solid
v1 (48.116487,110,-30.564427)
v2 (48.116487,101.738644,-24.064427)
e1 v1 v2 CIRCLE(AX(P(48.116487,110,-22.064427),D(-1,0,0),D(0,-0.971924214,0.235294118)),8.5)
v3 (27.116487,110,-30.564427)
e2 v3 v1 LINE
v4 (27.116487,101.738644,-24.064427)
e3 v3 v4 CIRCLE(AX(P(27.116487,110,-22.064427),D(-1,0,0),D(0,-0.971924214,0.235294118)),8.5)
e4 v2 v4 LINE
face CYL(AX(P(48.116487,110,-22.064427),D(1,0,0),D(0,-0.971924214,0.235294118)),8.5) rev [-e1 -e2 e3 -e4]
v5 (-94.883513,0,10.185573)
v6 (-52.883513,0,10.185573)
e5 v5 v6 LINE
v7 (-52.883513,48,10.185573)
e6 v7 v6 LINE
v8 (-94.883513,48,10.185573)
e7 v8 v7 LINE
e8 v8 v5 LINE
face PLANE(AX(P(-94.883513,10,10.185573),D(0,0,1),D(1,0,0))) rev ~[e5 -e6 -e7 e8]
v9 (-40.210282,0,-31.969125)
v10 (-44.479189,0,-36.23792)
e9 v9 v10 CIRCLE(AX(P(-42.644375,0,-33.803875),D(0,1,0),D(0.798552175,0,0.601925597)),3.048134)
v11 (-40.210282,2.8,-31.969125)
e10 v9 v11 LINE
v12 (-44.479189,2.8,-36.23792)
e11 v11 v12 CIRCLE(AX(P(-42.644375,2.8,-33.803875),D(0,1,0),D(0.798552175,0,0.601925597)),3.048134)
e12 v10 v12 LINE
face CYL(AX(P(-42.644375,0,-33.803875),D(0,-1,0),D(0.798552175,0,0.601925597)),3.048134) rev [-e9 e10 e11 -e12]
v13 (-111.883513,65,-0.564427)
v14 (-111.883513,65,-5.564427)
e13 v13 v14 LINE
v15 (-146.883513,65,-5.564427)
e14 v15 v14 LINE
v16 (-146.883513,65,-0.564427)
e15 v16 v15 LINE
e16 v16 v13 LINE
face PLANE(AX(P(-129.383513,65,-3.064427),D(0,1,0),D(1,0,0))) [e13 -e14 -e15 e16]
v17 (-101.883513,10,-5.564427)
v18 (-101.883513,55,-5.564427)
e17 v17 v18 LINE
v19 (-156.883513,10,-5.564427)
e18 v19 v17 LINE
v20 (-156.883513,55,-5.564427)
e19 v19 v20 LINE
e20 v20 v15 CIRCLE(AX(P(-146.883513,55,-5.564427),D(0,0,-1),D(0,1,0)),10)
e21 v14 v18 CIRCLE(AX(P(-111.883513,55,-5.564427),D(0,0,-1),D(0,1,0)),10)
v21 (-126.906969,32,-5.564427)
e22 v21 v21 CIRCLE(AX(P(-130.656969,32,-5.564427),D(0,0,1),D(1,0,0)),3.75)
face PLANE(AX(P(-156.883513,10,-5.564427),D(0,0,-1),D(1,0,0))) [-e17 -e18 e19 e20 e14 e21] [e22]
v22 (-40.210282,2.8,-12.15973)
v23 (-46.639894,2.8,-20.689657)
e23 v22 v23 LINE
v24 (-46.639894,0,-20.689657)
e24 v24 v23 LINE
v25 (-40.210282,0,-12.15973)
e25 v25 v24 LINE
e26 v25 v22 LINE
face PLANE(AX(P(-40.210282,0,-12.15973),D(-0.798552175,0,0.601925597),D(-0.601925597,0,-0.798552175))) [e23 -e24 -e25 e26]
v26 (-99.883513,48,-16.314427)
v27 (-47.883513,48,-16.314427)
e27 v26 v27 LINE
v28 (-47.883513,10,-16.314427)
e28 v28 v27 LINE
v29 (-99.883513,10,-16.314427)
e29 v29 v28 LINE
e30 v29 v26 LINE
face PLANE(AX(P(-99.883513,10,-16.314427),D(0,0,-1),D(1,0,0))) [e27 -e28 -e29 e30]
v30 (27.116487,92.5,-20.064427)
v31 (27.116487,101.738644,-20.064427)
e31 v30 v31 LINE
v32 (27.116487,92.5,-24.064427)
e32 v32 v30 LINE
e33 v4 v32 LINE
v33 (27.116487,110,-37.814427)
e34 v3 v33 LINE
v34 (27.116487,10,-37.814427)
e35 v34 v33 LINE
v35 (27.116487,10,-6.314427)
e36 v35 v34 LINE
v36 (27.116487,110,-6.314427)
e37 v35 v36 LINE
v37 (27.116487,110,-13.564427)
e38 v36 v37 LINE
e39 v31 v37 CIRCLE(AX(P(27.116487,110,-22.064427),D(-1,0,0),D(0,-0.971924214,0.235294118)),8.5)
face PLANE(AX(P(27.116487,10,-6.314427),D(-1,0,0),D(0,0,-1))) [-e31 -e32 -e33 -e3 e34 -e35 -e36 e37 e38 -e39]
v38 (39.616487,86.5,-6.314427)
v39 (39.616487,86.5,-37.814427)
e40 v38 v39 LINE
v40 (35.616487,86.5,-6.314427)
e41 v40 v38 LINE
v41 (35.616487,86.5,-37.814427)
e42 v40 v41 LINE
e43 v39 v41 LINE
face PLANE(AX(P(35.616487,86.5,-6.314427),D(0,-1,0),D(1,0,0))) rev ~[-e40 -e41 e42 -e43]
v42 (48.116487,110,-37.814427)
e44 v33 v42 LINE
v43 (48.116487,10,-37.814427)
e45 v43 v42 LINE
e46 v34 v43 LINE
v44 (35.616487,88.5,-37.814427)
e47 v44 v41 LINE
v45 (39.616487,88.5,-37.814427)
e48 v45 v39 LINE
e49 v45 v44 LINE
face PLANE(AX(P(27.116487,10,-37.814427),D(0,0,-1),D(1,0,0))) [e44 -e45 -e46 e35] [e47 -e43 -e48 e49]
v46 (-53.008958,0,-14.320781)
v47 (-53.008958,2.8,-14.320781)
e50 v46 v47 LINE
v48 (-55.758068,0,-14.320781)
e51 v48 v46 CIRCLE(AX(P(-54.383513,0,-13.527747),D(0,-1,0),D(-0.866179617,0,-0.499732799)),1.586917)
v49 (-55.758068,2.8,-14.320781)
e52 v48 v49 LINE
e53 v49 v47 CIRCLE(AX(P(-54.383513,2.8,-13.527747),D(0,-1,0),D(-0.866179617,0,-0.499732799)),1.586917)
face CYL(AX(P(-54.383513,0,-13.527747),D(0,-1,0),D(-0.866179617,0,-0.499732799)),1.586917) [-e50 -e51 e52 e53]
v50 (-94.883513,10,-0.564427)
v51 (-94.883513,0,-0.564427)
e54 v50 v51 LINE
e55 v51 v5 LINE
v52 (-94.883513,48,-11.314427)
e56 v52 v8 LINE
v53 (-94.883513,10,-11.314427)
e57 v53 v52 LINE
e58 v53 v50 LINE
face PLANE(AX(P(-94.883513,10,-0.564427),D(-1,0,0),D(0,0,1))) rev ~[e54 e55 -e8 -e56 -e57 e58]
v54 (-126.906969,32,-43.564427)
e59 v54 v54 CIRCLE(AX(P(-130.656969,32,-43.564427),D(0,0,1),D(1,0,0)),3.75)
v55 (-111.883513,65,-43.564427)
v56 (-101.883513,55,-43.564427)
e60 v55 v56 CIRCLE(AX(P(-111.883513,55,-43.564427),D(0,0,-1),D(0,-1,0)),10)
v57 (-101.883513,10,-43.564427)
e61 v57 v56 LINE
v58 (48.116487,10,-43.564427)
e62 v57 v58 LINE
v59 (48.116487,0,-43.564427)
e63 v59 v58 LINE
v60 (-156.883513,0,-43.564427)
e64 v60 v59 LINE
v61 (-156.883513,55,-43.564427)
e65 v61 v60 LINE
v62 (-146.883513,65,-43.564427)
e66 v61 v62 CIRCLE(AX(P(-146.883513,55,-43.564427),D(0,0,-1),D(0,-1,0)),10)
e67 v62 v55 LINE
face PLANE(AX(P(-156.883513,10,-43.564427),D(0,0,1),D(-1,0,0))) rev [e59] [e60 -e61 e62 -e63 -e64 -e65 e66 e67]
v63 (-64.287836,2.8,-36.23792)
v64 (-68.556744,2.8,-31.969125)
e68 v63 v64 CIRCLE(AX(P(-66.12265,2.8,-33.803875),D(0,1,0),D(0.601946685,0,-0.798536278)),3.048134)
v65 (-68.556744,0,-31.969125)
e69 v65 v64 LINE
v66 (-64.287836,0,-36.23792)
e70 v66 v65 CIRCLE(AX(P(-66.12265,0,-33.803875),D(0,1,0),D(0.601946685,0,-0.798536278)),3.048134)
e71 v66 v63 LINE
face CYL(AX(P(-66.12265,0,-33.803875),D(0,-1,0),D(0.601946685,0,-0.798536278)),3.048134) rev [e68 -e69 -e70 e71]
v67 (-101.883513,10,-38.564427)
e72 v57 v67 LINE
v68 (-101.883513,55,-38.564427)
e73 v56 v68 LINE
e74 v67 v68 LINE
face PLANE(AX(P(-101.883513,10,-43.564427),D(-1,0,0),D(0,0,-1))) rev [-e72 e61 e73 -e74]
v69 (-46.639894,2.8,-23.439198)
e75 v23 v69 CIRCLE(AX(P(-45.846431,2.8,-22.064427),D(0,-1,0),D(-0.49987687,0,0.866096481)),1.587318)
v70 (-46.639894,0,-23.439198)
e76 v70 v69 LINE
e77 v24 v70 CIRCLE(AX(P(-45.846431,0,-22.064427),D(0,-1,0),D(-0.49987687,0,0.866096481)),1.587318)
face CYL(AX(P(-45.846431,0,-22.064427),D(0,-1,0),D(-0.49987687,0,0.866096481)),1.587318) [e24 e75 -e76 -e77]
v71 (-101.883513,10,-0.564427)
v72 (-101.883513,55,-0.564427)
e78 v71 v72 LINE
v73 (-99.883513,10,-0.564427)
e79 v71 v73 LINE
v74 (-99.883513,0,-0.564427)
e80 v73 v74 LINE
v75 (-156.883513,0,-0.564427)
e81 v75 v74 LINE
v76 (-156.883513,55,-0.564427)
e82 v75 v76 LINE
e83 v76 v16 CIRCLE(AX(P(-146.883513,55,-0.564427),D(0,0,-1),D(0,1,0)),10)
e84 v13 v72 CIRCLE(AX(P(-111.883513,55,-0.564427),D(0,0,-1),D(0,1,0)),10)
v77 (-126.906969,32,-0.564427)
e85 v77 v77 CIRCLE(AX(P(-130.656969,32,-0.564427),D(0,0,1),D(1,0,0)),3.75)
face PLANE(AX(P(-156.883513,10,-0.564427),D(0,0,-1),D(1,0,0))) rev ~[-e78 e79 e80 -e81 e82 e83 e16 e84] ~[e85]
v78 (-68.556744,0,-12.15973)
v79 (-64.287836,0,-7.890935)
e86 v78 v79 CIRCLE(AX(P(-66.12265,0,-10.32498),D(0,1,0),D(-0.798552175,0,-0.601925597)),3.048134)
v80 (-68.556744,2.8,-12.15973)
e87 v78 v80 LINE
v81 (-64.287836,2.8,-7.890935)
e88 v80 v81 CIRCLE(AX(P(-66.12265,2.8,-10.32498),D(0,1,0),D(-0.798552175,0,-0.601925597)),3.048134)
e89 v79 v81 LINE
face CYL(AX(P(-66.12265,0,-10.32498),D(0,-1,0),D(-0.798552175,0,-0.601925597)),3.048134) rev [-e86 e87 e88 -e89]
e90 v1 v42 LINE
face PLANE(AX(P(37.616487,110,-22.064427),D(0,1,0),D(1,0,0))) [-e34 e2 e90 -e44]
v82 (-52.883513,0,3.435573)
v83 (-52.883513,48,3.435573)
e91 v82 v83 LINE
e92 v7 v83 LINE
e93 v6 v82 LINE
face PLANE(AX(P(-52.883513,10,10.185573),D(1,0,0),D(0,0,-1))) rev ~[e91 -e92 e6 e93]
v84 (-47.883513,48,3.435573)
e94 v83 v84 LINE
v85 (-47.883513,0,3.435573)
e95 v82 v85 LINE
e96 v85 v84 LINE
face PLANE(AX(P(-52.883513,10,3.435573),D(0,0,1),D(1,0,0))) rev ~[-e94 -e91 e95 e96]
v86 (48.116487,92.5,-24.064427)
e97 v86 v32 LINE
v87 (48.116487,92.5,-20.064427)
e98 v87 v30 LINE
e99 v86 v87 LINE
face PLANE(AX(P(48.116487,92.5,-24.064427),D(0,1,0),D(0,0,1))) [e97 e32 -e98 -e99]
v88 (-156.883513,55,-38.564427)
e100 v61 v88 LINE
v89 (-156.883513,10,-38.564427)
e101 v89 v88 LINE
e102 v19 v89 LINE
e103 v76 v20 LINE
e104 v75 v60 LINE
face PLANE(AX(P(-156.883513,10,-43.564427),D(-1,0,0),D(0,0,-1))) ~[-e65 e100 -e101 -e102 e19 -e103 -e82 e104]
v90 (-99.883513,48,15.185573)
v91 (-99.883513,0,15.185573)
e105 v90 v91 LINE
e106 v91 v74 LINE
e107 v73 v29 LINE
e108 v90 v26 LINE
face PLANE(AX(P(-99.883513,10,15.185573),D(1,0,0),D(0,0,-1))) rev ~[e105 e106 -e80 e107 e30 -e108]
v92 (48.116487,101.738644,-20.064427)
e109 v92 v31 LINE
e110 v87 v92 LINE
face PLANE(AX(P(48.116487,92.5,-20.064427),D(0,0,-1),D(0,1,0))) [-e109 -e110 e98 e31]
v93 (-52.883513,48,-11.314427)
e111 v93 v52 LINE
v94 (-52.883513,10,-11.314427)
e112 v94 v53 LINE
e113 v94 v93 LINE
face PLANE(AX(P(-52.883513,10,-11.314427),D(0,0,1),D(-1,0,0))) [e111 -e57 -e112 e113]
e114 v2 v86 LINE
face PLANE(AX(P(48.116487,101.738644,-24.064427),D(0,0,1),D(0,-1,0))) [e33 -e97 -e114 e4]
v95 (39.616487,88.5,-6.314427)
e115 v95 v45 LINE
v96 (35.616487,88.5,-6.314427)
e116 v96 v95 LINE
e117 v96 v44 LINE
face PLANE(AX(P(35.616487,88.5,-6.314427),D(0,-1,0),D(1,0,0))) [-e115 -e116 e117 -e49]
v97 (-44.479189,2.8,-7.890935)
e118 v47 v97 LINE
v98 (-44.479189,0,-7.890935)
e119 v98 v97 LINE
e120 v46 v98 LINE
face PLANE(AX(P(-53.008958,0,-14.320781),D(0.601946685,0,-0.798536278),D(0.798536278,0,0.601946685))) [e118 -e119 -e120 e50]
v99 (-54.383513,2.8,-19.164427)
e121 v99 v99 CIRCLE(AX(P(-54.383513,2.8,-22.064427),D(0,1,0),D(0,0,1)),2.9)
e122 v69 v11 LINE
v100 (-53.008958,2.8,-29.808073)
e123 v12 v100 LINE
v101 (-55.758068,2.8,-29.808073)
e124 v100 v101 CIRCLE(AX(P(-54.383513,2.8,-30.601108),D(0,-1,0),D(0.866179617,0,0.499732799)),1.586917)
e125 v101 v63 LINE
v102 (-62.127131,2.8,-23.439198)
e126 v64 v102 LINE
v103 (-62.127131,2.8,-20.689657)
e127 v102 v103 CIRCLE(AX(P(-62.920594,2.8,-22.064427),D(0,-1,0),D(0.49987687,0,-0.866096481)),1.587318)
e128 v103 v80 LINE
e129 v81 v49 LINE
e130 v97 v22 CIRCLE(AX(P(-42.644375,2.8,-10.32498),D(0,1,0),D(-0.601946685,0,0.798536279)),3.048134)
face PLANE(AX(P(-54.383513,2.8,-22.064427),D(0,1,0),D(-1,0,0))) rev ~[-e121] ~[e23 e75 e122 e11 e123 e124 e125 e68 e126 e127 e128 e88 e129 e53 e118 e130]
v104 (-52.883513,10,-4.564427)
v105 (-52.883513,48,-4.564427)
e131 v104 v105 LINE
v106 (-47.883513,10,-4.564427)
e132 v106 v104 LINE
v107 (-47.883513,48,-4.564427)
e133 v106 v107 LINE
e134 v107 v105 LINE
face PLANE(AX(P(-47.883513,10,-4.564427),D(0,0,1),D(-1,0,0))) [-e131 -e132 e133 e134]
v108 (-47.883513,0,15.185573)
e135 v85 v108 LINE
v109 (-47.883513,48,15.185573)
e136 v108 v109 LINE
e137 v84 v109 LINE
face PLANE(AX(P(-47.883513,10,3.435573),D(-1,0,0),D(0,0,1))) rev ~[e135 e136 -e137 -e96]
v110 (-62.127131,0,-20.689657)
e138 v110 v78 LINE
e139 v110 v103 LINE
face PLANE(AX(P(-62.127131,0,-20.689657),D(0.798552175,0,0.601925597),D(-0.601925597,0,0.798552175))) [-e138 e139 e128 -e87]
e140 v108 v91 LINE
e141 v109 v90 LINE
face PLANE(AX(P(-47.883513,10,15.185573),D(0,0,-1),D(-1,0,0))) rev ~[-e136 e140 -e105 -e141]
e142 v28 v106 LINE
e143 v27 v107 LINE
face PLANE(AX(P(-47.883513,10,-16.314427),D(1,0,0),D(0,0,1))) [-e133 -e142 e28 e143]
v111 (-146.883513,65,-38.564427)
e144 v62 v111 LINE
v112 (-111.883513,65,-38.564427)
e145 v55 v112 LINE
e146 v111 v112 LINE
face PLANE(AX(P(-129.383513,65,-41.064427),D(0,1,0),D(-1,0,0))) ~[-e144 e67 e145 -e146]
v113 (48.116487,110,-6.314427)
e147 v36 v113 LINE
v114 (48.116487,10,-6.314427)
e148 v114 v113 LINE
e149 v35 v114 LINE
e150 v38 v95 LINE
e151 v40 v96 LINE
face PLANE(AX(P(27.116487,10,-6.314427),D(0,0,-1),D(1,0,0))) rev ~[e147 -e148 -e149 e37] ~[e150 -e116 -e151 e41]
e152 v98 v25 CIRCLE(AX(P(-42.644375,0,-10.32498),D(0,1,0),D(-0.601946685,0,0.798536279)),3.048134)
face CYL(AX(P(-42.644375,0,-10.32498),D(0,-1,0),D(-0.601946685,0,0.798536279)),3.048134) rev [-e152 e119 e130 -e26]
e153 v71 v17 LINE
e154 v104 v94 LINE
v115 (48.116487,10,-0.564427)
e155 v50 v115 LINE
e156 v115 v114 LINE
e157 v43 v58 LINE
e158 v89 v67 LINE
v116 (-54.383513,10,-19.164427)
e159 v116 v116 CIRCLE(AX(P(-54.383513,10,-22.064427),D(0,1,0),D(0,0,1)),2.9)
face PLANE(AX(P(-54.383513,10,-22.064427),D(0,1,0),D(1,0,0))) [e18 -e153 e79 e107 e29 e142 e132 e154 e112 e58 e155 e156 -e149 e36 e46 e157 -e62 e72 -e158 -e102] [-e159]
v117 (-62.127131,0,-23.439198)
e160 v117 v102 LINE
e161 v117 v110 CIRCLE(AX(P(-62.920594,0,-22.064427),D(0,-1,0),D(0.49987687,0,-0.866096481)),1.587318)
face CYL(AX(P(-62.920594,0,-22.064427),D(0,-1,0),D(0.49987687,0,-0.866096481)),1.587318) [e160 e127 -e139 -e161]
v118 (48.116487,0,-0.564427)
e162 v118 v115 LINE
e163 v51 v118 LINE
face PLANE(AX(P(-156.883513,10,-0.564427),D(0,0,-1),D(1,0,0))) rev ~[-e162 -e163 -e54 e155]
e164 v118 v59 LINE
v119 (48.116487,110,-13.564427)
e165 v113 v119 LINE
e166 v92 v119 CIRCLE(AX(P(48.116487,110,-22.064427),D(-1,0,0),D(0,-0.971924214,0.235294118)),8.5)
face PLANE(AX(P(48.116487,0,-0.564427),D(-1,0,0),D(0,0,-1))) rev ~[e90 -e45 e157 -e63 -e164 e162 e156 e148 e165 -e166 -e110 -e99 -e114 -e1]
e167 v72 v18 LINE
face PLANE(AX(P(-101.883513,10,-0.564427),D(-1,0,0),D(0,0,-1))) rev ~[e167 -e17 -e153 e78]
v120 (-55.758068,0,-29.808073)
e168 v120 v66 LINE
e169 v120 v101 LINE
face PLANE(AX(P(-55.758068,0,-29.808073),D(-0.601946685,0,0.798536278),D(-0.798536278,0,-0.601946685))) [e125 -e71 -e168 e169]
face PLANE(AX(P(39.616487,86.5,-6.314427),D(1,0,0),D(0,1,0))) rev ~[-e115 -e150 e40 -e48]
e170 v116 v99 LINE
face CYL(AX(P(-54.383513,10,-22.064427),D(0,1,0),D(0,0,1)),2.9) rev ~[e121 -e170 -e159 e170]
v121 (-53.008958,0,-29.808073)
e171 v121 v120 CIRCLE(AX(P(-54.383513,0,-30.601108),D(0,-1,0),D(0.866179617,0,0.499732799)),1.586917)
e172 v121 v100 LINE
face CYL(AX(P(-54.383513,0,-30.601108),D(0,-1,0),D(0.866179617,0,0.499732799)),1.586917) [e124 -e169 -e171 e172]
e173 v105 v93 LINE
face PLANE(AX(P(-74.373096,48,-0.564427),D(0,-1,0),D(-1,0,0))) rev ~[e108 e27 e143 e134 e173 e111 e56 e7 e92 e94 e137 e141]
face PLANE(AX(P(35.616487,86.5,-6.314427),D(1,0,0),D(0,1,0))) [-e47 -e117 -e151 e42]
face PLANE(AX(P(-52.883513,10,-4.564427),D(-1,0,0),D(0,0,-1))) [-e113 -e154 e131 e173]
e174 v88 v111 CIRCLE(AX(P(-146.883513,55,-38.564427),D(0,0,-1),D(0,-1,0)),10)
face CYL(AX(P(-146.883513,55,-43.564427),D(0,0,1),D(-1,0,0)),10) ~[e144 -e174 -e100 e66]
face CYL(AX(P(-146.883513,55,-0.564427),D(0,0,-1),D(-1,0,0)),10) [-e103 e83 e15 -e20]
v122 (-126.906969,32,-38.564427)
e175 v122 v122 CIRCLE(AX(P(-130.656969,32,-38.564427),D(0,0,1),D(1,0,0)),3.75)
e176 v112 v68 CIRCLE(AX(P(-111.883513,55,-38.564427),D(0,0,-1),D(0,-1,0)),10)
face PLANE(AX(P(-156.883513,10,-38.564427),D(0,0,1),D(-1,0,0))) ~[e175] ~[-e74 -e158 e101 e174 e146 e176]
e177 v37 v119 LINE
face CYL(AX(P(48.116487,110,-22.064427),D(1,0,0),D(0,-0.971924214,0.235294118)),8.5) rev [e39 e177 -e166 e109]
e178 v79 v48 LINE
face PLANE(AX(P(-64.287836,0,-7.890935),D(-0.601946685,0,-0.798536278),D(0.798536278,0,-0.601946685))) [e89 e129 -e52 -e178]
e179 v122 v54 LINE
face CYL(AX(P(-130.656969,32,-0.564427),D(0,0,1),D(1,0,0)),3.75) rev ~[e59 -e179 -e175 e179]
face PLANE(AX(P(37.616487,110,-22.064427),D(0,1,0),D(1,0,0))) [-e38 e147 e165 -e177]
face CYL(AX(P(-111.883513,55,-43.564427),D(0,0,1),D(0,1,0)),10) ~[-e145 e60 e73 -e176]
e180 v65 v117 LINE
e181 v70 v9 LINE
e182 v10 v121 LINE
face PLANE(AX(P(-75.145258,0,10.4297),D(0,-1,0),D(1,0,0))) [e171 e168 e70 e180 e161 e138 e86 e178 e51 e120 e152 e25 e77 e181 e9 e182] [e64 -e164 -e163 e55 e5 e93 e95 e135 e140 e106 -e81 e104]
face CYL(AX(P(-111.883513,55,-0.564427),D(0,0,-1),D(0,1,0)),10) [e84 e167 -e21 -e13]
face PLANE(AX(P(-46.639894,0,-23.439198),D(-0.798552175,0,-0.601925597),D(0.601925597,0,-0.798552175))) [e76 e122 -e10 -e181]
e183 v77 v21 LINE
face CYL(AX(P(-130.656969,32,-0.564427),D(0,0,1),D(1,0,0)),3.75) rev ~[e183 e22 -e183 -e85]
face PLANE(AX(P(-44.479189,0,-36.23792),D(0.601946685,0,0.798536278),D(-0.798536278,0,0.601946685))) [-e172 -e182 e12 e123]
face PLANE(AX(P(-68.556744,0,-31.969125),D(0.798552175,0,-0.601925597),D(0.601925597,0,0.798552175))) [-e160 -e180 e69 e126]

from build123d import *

# Parameters (mm, degrees)
SKETCH1_W           = 205
SKETCH1_H           = 43
BOSS_EXTRUDE1_DEPTH = 10
SKETCH4_W           = 55
SKETCH4_H           = 5
BOSS_EXTRUDE2_DEPTH = 55
SKETCH5_W           = 21
SKETCH5_H           = 31.5
BARREL_STAND_DEPTH  = 100
CUT_EXTRUDE4_DEPTH  = 21
SKETCH7_R           = 3.75
BOLT_HOLE_DEPTH     = 197.370661061
FILLET3_R           = 10
CUT_EXTRUDE9_DEPTH  = 2.8
SKETCH12_R          = 2.9
CUT_EXTRUDE10_DEPTH = 10
SKETCH13_W          = 4
SKETCH13_H          = 2
ZIP_TIE_SLOT_DEPTH  = 196.192210464
BOSS_EXTRUDE3_DEPTH = 38
BOSS_EXTRUDE4_DEPTH = 10


with BuildPart() as part:
    # Sketch1 → Boss-Extrude1 (new body)
    with BuildSketch(Plane(origin=(0, 0, 0), x_dir=(1, 0, 0), z_dir=(0, 1, 0))):
        with Locations((-54.3835126, 22.064427358)):
            Rectangle(SKETCH1_W, SKETCH1_H)
    extrude(amount=BOSS_EXTRUDE1_DEPTH)

    # Sketch4 → Boss-Extrude2 (add)
    with BuildSketch(Plane(origin=(0, 10, 0), x_dir=(1, 0, 0), z_dir=(0, 1, 0))):
        with Locations((-129.3835126, 3.064427358)):
            Rectangle(SKETCH4_W, SKETCH4_H)
    boss_extrude2 = extrude(amount=BOSS_EXTRUDE2_DEPTH)

    # Mirror1: Boss-Extrude2 across plane
    add(boss_extrude2.mirror(Plane.XY.offset(-22.064427358)))

    # Sketch5 → Barrel Stand (add)
    with BuildSketch(Plane(origin=(0, 10, 0), x_dir=(1, 0, 0), z_dir=(0, 1, 0))):
        with Locations((37.6164874, 22.064427358)):
            Rectangle(SKETCH5_W, SKETCH5_H)
    extrude(amount=BARREL_STAND_DEPTH)

    # Sketch6 → Cut-Extrude4 (cut)
    with BuildSketch(Plane(origin=(48.1164874, 0, 10.302060042), x_dir=(0, 0, 1), z_dir=(-1, 0, 0))):
        with BuildLine():
            Line((-34.3664874, 92.5), (-30.3664874, 92.5))
            Line((-30.3664874, 92.5), (-30.3664874, 101.738644179))
            ThreePointArc((-30.3664874, 101.738644179), (-32.3664874, 118.5), (-34.3664874, 101.738644179))
            Line((-34.3664874, 101.738644179), (-34.3664874, 92.5))
        make_face()
    extrude(amount=CUT_EXTRUDE4_DEPTH, mode=Mode.SUBTRACT)

    # Sketch7 → Bolt Hole (cut, through all)
    with BuildSketch(Plane.XY.offset(-0.564427358)):
        with Locations((-130.656969182, 32)):
            Circle(SKETCH7_R)
    extrude(amount=-BOLT_HOLE_DEPTH, mode=Mode.SUBTRACT)

    # Fillet3
    fillet3_edges = [part.edges().sort_by_distance(p)[0] for p in [
        (-156.8835126, 65, -3.064427358),
        (-101.8835126, 65, -3.064427358),
        (-156.8835126, 65, -41.064427358),
        (-101.8835126, 65, -41.064427358),
    ]]
    fillet(fillet3_edges, radius=FILLET3_R)

    # Sketch11 → Cut-Extrude9 (cut)
    # profile 1 of 2: a face of its own
    with BuildSketch(Plane.XZ):
        with BuildLine():
            Line((-40.210281565, -12.15972992), (-46.639894467, -20.689656856))
            ThreePointArc((-46.639894467, -20.689656856), (-47.433748895, -22.064427358), (-46.639894467, -23.43919786))
            Line((-46.639894467, -23.43919786), (-40.210281565, -31.969124796))
            ThreePointArc((-40.210281565, -31.969124796), (-40.489047819, -35.959259074), (-44.479189458, -36.237919954))
            Line((-44.479189458, -36.237919954), (-53.008957608, -29.808073492))
            ThreePointArc((-53.008957608, -29.808073492), (-54.3835126, -29.014191063), (-55.758067592, -29.808073492))
            Line((-55.758067592, -29.808073492), (-64.287835742, -36.237919954))
            ThreePointArc((-64.287835742, -36.237919954), (-68.277977381, -35.959259074), (-68.556743635, -31.969124796))
            Line((-68.556743635, -31.969124796), (-62.127130733, -23.43919786))
            ThreePointArc((-62.127130733, -23.43919786), (-61.333276305, -22.064427358), (-62.127130733, -20.689656856))
            Line((-62.127130733, -20.689656856), (-68.556743635, -12.15972992))
            ThreePointArc((-68.556743635, -12.15972992), (-68.277977381, -8.169595641), (-64.287835742, -7.890934761))
            Line((-64.287835742, -7.890934761), (-55.758067592, -14.320781224))
            ThreePointArc((-55.758067592, -14.320781224), (-54.3835126, -15.114663653), (-53.008957608, -14.320781224))
            Line((-53.008957608, -14.320781224), (-44.479189458, -7.890934761))
            ThreePointArc((-44.479189458, -7.890934761), (-40.489047819, -8.169595641), (-40.210281565, -12.15972992))
        make_face()
        with BuildLine():
            ThreePointArc((-52.857065356, -14.456741186), (-54.3835126, -15.314663653), (-55.909959844, -14.456741186))
            Line((-55.909959844, -14.456741186), (-64.40822508, -8.050642017))
            ThreePointArc((-64.40822508, -8.050642017), (-68.136557893, -8.311018864), (-68.3970332, -12.0393448))
            Line((-68.3970332, -12.0393448), (-61.991158458, -20.537779207))
            ThreePointArc((-61.991158458, -20.537779207), (-61.133276305, -22.064427358), (-61.991158458, -23.591075508))
            Line((-61.991158458, -23.591075508), (-68.3970332, -32.089509915))
            ThreePointArc((-68.3970332, -32.089509915), (-68.136557893, -35.817835851), (-64.40822508, -36.078212699))
            Line((-64.40822508, -36.078212699), (-55.909959844, -29.672113529))
            ThreePointArc((-55.909959844, -29.672113529), (-54.3835126, -28.814191063), (-52.857065356, -29.672113529))
            Line((-52.857065356, -29.672113529), (-44.35880012, -36.078212699))
            ThreePointArc((-44.35880012, -36.078212699), (-40.630467307, -35.817835851), (-40.369992, -32.089509915))
            Line((-40.369992, -32.089509915), (-46.775866742, -23.591075508))
            ThreePointArc((-46.775866742, -23.591075508), (-47.633748895, -22.064427358), (-46.775866742, -20.537779207))
            Line((-46.775866742, -20.537779207), (-40.369992, -12.0393448))
            ThreePointArc((-40.369992, -12.0393448), (-40.630467307, -8.311018864), (-44.35880012, -8.050642017))
            Line((-44.35880012, -8.050642017), (-52.857065356, -14.456741186))
        make_face(mode=Mode.SUBTRACT)
    # profile 2 of 2: a face of its own
    with BuildSketch(Plane.XZ):
        with BuildLine():
            Line((-44.35880012, -8.050642017), (-52.857065356, -14.456741186))
            ThreePointArc((-52.857065356, -14.456741186), (-54.3835126, -15.314663653), (-55.909959844, -14.456741186))
            Line((-55.909959844, -14.456741186), (-64.40822508, -8.050642017))
            ThreePointArc((-64.40822508, -8.050642017), (-68.136557893, -8.311018864), (-68.3970332, -12.0393448))
            Line((-68.3970332, -12.0393448), (-61.991158458, -20.537779207))
            ThreePointArc((-61.991158458, -20.537779207), (-61.133276305, -22.064427358), (-61.991158458, -23.591075508))
            Line((-61.991158458, -23.591075508), (-68.3970332, -32.089509915))
            ThreePointArc((-68.3970332, -32.089509915), (-68.136557893, -35.817835851), (-64.40822508, -36.078212699))
            Line((-64.40822508, -36.078212699), (-55.909959844, -29.672113529))
            ThreePointArc((-55.909959844, -29.672113529), (-54.3835126, -28.814191063), (-52.857065356, -29.672113529))
            Line((-52.857065356, -29.672113529), (-44.35880012, -36.078212699))
            ThreePointArc((-44.35880012, -36.078212699), (-40.630467307, -35.817835851), (-40.369992, -32.089509915))
            Line((-40.369992, -32.089509915), (-46.775866742, -23.591075508))
            ThreePointArc((-46.775866742, -23.591075508), (-47.633748895, -22.064427358), (-46.775866742, -20.537779207))
            Line((-46.775866742, -20.537779207), (-40.369992, -12.0393448))
            ThreePointArc((-40.369992, -12.0393448), (-40.630467307, -8.311018864), (-44.35880012, -8.050642017))
        make_face()
    extrude(amount=-CUT_EXTRUDE9_DEPTH, mode=Mode.SUBTRACT)

    # Sketch12 → Cut-Extrude10 (cut)
    with BuildSketch(Plane(origin=(0, 10, 0), x_dir=(1, 0, 0), z_dir=(0, 1, 0))):
        with Locations(Location((-54.3835126, 22.064427358, 0), (0, 0, 270))):
            Circle(SKETCH12_R)
    extrude(amount=-CUT_EXTRUDE10_DEPTH, mode=Mode.SUBTRACT)

    # Sketch13 → Zip Tie Slot (cut, through all)
    with BuildSketch(Plane.XY.offset(-6.314427358)):
        with Locations((37.6164874, 87.5)):
            Rectangle(SKETCH13_W, SKETCH13_H)
    extrude(amount=-ZIP_TIE_SLOT_DEPTH, mode=Mode.SUBTRACT)

    # Sketch14 → Boss-Extrude3 (add)
    with BuildSketch(Plane(origin=(0, 10, 0), x_dir=(1, 0, 0), z_dir=(0, 1, 0))):
        Polygon((-94.8835126, -10.185572642), (-52.8835126, -10.185572642), (-52.8835126, -3.435572642), (-47.8835126, -3.435572642), (-47.8835126, -15.185572642), (-99.8835126, -15.185572642), (-99.8835126, 16.314427358), (-47.8835126, 16.314427358), (-47.8835126, 4.564427358), (-52.8835126, 4.564427358), (-52.8835126, 11.314427358), (-94.8835126, 11.314427358), align=None)
    extrude(amount=BOSS_EXTRUDE3_DEPTH)

    # Sketch15 → Boss-Extrude4 (add)
    with BuildSketch(Plane.XZ.offset(-10)):
        Polygon((-47.8835126, 15.185572642), (-99.8835126, 15.185572642), (-99.8835126, -0.564427358), (-94.8835126, -0.564427358), (-94.8835126, 10.185572642), (-52.8835126, 10.185572642), (-52.8835126, 3.435572642), (-47.8835126, 3.435572642), align=None)
    extrude(amount=BOSS_EXTRUDE4_DEPTH)


solid = part.part
